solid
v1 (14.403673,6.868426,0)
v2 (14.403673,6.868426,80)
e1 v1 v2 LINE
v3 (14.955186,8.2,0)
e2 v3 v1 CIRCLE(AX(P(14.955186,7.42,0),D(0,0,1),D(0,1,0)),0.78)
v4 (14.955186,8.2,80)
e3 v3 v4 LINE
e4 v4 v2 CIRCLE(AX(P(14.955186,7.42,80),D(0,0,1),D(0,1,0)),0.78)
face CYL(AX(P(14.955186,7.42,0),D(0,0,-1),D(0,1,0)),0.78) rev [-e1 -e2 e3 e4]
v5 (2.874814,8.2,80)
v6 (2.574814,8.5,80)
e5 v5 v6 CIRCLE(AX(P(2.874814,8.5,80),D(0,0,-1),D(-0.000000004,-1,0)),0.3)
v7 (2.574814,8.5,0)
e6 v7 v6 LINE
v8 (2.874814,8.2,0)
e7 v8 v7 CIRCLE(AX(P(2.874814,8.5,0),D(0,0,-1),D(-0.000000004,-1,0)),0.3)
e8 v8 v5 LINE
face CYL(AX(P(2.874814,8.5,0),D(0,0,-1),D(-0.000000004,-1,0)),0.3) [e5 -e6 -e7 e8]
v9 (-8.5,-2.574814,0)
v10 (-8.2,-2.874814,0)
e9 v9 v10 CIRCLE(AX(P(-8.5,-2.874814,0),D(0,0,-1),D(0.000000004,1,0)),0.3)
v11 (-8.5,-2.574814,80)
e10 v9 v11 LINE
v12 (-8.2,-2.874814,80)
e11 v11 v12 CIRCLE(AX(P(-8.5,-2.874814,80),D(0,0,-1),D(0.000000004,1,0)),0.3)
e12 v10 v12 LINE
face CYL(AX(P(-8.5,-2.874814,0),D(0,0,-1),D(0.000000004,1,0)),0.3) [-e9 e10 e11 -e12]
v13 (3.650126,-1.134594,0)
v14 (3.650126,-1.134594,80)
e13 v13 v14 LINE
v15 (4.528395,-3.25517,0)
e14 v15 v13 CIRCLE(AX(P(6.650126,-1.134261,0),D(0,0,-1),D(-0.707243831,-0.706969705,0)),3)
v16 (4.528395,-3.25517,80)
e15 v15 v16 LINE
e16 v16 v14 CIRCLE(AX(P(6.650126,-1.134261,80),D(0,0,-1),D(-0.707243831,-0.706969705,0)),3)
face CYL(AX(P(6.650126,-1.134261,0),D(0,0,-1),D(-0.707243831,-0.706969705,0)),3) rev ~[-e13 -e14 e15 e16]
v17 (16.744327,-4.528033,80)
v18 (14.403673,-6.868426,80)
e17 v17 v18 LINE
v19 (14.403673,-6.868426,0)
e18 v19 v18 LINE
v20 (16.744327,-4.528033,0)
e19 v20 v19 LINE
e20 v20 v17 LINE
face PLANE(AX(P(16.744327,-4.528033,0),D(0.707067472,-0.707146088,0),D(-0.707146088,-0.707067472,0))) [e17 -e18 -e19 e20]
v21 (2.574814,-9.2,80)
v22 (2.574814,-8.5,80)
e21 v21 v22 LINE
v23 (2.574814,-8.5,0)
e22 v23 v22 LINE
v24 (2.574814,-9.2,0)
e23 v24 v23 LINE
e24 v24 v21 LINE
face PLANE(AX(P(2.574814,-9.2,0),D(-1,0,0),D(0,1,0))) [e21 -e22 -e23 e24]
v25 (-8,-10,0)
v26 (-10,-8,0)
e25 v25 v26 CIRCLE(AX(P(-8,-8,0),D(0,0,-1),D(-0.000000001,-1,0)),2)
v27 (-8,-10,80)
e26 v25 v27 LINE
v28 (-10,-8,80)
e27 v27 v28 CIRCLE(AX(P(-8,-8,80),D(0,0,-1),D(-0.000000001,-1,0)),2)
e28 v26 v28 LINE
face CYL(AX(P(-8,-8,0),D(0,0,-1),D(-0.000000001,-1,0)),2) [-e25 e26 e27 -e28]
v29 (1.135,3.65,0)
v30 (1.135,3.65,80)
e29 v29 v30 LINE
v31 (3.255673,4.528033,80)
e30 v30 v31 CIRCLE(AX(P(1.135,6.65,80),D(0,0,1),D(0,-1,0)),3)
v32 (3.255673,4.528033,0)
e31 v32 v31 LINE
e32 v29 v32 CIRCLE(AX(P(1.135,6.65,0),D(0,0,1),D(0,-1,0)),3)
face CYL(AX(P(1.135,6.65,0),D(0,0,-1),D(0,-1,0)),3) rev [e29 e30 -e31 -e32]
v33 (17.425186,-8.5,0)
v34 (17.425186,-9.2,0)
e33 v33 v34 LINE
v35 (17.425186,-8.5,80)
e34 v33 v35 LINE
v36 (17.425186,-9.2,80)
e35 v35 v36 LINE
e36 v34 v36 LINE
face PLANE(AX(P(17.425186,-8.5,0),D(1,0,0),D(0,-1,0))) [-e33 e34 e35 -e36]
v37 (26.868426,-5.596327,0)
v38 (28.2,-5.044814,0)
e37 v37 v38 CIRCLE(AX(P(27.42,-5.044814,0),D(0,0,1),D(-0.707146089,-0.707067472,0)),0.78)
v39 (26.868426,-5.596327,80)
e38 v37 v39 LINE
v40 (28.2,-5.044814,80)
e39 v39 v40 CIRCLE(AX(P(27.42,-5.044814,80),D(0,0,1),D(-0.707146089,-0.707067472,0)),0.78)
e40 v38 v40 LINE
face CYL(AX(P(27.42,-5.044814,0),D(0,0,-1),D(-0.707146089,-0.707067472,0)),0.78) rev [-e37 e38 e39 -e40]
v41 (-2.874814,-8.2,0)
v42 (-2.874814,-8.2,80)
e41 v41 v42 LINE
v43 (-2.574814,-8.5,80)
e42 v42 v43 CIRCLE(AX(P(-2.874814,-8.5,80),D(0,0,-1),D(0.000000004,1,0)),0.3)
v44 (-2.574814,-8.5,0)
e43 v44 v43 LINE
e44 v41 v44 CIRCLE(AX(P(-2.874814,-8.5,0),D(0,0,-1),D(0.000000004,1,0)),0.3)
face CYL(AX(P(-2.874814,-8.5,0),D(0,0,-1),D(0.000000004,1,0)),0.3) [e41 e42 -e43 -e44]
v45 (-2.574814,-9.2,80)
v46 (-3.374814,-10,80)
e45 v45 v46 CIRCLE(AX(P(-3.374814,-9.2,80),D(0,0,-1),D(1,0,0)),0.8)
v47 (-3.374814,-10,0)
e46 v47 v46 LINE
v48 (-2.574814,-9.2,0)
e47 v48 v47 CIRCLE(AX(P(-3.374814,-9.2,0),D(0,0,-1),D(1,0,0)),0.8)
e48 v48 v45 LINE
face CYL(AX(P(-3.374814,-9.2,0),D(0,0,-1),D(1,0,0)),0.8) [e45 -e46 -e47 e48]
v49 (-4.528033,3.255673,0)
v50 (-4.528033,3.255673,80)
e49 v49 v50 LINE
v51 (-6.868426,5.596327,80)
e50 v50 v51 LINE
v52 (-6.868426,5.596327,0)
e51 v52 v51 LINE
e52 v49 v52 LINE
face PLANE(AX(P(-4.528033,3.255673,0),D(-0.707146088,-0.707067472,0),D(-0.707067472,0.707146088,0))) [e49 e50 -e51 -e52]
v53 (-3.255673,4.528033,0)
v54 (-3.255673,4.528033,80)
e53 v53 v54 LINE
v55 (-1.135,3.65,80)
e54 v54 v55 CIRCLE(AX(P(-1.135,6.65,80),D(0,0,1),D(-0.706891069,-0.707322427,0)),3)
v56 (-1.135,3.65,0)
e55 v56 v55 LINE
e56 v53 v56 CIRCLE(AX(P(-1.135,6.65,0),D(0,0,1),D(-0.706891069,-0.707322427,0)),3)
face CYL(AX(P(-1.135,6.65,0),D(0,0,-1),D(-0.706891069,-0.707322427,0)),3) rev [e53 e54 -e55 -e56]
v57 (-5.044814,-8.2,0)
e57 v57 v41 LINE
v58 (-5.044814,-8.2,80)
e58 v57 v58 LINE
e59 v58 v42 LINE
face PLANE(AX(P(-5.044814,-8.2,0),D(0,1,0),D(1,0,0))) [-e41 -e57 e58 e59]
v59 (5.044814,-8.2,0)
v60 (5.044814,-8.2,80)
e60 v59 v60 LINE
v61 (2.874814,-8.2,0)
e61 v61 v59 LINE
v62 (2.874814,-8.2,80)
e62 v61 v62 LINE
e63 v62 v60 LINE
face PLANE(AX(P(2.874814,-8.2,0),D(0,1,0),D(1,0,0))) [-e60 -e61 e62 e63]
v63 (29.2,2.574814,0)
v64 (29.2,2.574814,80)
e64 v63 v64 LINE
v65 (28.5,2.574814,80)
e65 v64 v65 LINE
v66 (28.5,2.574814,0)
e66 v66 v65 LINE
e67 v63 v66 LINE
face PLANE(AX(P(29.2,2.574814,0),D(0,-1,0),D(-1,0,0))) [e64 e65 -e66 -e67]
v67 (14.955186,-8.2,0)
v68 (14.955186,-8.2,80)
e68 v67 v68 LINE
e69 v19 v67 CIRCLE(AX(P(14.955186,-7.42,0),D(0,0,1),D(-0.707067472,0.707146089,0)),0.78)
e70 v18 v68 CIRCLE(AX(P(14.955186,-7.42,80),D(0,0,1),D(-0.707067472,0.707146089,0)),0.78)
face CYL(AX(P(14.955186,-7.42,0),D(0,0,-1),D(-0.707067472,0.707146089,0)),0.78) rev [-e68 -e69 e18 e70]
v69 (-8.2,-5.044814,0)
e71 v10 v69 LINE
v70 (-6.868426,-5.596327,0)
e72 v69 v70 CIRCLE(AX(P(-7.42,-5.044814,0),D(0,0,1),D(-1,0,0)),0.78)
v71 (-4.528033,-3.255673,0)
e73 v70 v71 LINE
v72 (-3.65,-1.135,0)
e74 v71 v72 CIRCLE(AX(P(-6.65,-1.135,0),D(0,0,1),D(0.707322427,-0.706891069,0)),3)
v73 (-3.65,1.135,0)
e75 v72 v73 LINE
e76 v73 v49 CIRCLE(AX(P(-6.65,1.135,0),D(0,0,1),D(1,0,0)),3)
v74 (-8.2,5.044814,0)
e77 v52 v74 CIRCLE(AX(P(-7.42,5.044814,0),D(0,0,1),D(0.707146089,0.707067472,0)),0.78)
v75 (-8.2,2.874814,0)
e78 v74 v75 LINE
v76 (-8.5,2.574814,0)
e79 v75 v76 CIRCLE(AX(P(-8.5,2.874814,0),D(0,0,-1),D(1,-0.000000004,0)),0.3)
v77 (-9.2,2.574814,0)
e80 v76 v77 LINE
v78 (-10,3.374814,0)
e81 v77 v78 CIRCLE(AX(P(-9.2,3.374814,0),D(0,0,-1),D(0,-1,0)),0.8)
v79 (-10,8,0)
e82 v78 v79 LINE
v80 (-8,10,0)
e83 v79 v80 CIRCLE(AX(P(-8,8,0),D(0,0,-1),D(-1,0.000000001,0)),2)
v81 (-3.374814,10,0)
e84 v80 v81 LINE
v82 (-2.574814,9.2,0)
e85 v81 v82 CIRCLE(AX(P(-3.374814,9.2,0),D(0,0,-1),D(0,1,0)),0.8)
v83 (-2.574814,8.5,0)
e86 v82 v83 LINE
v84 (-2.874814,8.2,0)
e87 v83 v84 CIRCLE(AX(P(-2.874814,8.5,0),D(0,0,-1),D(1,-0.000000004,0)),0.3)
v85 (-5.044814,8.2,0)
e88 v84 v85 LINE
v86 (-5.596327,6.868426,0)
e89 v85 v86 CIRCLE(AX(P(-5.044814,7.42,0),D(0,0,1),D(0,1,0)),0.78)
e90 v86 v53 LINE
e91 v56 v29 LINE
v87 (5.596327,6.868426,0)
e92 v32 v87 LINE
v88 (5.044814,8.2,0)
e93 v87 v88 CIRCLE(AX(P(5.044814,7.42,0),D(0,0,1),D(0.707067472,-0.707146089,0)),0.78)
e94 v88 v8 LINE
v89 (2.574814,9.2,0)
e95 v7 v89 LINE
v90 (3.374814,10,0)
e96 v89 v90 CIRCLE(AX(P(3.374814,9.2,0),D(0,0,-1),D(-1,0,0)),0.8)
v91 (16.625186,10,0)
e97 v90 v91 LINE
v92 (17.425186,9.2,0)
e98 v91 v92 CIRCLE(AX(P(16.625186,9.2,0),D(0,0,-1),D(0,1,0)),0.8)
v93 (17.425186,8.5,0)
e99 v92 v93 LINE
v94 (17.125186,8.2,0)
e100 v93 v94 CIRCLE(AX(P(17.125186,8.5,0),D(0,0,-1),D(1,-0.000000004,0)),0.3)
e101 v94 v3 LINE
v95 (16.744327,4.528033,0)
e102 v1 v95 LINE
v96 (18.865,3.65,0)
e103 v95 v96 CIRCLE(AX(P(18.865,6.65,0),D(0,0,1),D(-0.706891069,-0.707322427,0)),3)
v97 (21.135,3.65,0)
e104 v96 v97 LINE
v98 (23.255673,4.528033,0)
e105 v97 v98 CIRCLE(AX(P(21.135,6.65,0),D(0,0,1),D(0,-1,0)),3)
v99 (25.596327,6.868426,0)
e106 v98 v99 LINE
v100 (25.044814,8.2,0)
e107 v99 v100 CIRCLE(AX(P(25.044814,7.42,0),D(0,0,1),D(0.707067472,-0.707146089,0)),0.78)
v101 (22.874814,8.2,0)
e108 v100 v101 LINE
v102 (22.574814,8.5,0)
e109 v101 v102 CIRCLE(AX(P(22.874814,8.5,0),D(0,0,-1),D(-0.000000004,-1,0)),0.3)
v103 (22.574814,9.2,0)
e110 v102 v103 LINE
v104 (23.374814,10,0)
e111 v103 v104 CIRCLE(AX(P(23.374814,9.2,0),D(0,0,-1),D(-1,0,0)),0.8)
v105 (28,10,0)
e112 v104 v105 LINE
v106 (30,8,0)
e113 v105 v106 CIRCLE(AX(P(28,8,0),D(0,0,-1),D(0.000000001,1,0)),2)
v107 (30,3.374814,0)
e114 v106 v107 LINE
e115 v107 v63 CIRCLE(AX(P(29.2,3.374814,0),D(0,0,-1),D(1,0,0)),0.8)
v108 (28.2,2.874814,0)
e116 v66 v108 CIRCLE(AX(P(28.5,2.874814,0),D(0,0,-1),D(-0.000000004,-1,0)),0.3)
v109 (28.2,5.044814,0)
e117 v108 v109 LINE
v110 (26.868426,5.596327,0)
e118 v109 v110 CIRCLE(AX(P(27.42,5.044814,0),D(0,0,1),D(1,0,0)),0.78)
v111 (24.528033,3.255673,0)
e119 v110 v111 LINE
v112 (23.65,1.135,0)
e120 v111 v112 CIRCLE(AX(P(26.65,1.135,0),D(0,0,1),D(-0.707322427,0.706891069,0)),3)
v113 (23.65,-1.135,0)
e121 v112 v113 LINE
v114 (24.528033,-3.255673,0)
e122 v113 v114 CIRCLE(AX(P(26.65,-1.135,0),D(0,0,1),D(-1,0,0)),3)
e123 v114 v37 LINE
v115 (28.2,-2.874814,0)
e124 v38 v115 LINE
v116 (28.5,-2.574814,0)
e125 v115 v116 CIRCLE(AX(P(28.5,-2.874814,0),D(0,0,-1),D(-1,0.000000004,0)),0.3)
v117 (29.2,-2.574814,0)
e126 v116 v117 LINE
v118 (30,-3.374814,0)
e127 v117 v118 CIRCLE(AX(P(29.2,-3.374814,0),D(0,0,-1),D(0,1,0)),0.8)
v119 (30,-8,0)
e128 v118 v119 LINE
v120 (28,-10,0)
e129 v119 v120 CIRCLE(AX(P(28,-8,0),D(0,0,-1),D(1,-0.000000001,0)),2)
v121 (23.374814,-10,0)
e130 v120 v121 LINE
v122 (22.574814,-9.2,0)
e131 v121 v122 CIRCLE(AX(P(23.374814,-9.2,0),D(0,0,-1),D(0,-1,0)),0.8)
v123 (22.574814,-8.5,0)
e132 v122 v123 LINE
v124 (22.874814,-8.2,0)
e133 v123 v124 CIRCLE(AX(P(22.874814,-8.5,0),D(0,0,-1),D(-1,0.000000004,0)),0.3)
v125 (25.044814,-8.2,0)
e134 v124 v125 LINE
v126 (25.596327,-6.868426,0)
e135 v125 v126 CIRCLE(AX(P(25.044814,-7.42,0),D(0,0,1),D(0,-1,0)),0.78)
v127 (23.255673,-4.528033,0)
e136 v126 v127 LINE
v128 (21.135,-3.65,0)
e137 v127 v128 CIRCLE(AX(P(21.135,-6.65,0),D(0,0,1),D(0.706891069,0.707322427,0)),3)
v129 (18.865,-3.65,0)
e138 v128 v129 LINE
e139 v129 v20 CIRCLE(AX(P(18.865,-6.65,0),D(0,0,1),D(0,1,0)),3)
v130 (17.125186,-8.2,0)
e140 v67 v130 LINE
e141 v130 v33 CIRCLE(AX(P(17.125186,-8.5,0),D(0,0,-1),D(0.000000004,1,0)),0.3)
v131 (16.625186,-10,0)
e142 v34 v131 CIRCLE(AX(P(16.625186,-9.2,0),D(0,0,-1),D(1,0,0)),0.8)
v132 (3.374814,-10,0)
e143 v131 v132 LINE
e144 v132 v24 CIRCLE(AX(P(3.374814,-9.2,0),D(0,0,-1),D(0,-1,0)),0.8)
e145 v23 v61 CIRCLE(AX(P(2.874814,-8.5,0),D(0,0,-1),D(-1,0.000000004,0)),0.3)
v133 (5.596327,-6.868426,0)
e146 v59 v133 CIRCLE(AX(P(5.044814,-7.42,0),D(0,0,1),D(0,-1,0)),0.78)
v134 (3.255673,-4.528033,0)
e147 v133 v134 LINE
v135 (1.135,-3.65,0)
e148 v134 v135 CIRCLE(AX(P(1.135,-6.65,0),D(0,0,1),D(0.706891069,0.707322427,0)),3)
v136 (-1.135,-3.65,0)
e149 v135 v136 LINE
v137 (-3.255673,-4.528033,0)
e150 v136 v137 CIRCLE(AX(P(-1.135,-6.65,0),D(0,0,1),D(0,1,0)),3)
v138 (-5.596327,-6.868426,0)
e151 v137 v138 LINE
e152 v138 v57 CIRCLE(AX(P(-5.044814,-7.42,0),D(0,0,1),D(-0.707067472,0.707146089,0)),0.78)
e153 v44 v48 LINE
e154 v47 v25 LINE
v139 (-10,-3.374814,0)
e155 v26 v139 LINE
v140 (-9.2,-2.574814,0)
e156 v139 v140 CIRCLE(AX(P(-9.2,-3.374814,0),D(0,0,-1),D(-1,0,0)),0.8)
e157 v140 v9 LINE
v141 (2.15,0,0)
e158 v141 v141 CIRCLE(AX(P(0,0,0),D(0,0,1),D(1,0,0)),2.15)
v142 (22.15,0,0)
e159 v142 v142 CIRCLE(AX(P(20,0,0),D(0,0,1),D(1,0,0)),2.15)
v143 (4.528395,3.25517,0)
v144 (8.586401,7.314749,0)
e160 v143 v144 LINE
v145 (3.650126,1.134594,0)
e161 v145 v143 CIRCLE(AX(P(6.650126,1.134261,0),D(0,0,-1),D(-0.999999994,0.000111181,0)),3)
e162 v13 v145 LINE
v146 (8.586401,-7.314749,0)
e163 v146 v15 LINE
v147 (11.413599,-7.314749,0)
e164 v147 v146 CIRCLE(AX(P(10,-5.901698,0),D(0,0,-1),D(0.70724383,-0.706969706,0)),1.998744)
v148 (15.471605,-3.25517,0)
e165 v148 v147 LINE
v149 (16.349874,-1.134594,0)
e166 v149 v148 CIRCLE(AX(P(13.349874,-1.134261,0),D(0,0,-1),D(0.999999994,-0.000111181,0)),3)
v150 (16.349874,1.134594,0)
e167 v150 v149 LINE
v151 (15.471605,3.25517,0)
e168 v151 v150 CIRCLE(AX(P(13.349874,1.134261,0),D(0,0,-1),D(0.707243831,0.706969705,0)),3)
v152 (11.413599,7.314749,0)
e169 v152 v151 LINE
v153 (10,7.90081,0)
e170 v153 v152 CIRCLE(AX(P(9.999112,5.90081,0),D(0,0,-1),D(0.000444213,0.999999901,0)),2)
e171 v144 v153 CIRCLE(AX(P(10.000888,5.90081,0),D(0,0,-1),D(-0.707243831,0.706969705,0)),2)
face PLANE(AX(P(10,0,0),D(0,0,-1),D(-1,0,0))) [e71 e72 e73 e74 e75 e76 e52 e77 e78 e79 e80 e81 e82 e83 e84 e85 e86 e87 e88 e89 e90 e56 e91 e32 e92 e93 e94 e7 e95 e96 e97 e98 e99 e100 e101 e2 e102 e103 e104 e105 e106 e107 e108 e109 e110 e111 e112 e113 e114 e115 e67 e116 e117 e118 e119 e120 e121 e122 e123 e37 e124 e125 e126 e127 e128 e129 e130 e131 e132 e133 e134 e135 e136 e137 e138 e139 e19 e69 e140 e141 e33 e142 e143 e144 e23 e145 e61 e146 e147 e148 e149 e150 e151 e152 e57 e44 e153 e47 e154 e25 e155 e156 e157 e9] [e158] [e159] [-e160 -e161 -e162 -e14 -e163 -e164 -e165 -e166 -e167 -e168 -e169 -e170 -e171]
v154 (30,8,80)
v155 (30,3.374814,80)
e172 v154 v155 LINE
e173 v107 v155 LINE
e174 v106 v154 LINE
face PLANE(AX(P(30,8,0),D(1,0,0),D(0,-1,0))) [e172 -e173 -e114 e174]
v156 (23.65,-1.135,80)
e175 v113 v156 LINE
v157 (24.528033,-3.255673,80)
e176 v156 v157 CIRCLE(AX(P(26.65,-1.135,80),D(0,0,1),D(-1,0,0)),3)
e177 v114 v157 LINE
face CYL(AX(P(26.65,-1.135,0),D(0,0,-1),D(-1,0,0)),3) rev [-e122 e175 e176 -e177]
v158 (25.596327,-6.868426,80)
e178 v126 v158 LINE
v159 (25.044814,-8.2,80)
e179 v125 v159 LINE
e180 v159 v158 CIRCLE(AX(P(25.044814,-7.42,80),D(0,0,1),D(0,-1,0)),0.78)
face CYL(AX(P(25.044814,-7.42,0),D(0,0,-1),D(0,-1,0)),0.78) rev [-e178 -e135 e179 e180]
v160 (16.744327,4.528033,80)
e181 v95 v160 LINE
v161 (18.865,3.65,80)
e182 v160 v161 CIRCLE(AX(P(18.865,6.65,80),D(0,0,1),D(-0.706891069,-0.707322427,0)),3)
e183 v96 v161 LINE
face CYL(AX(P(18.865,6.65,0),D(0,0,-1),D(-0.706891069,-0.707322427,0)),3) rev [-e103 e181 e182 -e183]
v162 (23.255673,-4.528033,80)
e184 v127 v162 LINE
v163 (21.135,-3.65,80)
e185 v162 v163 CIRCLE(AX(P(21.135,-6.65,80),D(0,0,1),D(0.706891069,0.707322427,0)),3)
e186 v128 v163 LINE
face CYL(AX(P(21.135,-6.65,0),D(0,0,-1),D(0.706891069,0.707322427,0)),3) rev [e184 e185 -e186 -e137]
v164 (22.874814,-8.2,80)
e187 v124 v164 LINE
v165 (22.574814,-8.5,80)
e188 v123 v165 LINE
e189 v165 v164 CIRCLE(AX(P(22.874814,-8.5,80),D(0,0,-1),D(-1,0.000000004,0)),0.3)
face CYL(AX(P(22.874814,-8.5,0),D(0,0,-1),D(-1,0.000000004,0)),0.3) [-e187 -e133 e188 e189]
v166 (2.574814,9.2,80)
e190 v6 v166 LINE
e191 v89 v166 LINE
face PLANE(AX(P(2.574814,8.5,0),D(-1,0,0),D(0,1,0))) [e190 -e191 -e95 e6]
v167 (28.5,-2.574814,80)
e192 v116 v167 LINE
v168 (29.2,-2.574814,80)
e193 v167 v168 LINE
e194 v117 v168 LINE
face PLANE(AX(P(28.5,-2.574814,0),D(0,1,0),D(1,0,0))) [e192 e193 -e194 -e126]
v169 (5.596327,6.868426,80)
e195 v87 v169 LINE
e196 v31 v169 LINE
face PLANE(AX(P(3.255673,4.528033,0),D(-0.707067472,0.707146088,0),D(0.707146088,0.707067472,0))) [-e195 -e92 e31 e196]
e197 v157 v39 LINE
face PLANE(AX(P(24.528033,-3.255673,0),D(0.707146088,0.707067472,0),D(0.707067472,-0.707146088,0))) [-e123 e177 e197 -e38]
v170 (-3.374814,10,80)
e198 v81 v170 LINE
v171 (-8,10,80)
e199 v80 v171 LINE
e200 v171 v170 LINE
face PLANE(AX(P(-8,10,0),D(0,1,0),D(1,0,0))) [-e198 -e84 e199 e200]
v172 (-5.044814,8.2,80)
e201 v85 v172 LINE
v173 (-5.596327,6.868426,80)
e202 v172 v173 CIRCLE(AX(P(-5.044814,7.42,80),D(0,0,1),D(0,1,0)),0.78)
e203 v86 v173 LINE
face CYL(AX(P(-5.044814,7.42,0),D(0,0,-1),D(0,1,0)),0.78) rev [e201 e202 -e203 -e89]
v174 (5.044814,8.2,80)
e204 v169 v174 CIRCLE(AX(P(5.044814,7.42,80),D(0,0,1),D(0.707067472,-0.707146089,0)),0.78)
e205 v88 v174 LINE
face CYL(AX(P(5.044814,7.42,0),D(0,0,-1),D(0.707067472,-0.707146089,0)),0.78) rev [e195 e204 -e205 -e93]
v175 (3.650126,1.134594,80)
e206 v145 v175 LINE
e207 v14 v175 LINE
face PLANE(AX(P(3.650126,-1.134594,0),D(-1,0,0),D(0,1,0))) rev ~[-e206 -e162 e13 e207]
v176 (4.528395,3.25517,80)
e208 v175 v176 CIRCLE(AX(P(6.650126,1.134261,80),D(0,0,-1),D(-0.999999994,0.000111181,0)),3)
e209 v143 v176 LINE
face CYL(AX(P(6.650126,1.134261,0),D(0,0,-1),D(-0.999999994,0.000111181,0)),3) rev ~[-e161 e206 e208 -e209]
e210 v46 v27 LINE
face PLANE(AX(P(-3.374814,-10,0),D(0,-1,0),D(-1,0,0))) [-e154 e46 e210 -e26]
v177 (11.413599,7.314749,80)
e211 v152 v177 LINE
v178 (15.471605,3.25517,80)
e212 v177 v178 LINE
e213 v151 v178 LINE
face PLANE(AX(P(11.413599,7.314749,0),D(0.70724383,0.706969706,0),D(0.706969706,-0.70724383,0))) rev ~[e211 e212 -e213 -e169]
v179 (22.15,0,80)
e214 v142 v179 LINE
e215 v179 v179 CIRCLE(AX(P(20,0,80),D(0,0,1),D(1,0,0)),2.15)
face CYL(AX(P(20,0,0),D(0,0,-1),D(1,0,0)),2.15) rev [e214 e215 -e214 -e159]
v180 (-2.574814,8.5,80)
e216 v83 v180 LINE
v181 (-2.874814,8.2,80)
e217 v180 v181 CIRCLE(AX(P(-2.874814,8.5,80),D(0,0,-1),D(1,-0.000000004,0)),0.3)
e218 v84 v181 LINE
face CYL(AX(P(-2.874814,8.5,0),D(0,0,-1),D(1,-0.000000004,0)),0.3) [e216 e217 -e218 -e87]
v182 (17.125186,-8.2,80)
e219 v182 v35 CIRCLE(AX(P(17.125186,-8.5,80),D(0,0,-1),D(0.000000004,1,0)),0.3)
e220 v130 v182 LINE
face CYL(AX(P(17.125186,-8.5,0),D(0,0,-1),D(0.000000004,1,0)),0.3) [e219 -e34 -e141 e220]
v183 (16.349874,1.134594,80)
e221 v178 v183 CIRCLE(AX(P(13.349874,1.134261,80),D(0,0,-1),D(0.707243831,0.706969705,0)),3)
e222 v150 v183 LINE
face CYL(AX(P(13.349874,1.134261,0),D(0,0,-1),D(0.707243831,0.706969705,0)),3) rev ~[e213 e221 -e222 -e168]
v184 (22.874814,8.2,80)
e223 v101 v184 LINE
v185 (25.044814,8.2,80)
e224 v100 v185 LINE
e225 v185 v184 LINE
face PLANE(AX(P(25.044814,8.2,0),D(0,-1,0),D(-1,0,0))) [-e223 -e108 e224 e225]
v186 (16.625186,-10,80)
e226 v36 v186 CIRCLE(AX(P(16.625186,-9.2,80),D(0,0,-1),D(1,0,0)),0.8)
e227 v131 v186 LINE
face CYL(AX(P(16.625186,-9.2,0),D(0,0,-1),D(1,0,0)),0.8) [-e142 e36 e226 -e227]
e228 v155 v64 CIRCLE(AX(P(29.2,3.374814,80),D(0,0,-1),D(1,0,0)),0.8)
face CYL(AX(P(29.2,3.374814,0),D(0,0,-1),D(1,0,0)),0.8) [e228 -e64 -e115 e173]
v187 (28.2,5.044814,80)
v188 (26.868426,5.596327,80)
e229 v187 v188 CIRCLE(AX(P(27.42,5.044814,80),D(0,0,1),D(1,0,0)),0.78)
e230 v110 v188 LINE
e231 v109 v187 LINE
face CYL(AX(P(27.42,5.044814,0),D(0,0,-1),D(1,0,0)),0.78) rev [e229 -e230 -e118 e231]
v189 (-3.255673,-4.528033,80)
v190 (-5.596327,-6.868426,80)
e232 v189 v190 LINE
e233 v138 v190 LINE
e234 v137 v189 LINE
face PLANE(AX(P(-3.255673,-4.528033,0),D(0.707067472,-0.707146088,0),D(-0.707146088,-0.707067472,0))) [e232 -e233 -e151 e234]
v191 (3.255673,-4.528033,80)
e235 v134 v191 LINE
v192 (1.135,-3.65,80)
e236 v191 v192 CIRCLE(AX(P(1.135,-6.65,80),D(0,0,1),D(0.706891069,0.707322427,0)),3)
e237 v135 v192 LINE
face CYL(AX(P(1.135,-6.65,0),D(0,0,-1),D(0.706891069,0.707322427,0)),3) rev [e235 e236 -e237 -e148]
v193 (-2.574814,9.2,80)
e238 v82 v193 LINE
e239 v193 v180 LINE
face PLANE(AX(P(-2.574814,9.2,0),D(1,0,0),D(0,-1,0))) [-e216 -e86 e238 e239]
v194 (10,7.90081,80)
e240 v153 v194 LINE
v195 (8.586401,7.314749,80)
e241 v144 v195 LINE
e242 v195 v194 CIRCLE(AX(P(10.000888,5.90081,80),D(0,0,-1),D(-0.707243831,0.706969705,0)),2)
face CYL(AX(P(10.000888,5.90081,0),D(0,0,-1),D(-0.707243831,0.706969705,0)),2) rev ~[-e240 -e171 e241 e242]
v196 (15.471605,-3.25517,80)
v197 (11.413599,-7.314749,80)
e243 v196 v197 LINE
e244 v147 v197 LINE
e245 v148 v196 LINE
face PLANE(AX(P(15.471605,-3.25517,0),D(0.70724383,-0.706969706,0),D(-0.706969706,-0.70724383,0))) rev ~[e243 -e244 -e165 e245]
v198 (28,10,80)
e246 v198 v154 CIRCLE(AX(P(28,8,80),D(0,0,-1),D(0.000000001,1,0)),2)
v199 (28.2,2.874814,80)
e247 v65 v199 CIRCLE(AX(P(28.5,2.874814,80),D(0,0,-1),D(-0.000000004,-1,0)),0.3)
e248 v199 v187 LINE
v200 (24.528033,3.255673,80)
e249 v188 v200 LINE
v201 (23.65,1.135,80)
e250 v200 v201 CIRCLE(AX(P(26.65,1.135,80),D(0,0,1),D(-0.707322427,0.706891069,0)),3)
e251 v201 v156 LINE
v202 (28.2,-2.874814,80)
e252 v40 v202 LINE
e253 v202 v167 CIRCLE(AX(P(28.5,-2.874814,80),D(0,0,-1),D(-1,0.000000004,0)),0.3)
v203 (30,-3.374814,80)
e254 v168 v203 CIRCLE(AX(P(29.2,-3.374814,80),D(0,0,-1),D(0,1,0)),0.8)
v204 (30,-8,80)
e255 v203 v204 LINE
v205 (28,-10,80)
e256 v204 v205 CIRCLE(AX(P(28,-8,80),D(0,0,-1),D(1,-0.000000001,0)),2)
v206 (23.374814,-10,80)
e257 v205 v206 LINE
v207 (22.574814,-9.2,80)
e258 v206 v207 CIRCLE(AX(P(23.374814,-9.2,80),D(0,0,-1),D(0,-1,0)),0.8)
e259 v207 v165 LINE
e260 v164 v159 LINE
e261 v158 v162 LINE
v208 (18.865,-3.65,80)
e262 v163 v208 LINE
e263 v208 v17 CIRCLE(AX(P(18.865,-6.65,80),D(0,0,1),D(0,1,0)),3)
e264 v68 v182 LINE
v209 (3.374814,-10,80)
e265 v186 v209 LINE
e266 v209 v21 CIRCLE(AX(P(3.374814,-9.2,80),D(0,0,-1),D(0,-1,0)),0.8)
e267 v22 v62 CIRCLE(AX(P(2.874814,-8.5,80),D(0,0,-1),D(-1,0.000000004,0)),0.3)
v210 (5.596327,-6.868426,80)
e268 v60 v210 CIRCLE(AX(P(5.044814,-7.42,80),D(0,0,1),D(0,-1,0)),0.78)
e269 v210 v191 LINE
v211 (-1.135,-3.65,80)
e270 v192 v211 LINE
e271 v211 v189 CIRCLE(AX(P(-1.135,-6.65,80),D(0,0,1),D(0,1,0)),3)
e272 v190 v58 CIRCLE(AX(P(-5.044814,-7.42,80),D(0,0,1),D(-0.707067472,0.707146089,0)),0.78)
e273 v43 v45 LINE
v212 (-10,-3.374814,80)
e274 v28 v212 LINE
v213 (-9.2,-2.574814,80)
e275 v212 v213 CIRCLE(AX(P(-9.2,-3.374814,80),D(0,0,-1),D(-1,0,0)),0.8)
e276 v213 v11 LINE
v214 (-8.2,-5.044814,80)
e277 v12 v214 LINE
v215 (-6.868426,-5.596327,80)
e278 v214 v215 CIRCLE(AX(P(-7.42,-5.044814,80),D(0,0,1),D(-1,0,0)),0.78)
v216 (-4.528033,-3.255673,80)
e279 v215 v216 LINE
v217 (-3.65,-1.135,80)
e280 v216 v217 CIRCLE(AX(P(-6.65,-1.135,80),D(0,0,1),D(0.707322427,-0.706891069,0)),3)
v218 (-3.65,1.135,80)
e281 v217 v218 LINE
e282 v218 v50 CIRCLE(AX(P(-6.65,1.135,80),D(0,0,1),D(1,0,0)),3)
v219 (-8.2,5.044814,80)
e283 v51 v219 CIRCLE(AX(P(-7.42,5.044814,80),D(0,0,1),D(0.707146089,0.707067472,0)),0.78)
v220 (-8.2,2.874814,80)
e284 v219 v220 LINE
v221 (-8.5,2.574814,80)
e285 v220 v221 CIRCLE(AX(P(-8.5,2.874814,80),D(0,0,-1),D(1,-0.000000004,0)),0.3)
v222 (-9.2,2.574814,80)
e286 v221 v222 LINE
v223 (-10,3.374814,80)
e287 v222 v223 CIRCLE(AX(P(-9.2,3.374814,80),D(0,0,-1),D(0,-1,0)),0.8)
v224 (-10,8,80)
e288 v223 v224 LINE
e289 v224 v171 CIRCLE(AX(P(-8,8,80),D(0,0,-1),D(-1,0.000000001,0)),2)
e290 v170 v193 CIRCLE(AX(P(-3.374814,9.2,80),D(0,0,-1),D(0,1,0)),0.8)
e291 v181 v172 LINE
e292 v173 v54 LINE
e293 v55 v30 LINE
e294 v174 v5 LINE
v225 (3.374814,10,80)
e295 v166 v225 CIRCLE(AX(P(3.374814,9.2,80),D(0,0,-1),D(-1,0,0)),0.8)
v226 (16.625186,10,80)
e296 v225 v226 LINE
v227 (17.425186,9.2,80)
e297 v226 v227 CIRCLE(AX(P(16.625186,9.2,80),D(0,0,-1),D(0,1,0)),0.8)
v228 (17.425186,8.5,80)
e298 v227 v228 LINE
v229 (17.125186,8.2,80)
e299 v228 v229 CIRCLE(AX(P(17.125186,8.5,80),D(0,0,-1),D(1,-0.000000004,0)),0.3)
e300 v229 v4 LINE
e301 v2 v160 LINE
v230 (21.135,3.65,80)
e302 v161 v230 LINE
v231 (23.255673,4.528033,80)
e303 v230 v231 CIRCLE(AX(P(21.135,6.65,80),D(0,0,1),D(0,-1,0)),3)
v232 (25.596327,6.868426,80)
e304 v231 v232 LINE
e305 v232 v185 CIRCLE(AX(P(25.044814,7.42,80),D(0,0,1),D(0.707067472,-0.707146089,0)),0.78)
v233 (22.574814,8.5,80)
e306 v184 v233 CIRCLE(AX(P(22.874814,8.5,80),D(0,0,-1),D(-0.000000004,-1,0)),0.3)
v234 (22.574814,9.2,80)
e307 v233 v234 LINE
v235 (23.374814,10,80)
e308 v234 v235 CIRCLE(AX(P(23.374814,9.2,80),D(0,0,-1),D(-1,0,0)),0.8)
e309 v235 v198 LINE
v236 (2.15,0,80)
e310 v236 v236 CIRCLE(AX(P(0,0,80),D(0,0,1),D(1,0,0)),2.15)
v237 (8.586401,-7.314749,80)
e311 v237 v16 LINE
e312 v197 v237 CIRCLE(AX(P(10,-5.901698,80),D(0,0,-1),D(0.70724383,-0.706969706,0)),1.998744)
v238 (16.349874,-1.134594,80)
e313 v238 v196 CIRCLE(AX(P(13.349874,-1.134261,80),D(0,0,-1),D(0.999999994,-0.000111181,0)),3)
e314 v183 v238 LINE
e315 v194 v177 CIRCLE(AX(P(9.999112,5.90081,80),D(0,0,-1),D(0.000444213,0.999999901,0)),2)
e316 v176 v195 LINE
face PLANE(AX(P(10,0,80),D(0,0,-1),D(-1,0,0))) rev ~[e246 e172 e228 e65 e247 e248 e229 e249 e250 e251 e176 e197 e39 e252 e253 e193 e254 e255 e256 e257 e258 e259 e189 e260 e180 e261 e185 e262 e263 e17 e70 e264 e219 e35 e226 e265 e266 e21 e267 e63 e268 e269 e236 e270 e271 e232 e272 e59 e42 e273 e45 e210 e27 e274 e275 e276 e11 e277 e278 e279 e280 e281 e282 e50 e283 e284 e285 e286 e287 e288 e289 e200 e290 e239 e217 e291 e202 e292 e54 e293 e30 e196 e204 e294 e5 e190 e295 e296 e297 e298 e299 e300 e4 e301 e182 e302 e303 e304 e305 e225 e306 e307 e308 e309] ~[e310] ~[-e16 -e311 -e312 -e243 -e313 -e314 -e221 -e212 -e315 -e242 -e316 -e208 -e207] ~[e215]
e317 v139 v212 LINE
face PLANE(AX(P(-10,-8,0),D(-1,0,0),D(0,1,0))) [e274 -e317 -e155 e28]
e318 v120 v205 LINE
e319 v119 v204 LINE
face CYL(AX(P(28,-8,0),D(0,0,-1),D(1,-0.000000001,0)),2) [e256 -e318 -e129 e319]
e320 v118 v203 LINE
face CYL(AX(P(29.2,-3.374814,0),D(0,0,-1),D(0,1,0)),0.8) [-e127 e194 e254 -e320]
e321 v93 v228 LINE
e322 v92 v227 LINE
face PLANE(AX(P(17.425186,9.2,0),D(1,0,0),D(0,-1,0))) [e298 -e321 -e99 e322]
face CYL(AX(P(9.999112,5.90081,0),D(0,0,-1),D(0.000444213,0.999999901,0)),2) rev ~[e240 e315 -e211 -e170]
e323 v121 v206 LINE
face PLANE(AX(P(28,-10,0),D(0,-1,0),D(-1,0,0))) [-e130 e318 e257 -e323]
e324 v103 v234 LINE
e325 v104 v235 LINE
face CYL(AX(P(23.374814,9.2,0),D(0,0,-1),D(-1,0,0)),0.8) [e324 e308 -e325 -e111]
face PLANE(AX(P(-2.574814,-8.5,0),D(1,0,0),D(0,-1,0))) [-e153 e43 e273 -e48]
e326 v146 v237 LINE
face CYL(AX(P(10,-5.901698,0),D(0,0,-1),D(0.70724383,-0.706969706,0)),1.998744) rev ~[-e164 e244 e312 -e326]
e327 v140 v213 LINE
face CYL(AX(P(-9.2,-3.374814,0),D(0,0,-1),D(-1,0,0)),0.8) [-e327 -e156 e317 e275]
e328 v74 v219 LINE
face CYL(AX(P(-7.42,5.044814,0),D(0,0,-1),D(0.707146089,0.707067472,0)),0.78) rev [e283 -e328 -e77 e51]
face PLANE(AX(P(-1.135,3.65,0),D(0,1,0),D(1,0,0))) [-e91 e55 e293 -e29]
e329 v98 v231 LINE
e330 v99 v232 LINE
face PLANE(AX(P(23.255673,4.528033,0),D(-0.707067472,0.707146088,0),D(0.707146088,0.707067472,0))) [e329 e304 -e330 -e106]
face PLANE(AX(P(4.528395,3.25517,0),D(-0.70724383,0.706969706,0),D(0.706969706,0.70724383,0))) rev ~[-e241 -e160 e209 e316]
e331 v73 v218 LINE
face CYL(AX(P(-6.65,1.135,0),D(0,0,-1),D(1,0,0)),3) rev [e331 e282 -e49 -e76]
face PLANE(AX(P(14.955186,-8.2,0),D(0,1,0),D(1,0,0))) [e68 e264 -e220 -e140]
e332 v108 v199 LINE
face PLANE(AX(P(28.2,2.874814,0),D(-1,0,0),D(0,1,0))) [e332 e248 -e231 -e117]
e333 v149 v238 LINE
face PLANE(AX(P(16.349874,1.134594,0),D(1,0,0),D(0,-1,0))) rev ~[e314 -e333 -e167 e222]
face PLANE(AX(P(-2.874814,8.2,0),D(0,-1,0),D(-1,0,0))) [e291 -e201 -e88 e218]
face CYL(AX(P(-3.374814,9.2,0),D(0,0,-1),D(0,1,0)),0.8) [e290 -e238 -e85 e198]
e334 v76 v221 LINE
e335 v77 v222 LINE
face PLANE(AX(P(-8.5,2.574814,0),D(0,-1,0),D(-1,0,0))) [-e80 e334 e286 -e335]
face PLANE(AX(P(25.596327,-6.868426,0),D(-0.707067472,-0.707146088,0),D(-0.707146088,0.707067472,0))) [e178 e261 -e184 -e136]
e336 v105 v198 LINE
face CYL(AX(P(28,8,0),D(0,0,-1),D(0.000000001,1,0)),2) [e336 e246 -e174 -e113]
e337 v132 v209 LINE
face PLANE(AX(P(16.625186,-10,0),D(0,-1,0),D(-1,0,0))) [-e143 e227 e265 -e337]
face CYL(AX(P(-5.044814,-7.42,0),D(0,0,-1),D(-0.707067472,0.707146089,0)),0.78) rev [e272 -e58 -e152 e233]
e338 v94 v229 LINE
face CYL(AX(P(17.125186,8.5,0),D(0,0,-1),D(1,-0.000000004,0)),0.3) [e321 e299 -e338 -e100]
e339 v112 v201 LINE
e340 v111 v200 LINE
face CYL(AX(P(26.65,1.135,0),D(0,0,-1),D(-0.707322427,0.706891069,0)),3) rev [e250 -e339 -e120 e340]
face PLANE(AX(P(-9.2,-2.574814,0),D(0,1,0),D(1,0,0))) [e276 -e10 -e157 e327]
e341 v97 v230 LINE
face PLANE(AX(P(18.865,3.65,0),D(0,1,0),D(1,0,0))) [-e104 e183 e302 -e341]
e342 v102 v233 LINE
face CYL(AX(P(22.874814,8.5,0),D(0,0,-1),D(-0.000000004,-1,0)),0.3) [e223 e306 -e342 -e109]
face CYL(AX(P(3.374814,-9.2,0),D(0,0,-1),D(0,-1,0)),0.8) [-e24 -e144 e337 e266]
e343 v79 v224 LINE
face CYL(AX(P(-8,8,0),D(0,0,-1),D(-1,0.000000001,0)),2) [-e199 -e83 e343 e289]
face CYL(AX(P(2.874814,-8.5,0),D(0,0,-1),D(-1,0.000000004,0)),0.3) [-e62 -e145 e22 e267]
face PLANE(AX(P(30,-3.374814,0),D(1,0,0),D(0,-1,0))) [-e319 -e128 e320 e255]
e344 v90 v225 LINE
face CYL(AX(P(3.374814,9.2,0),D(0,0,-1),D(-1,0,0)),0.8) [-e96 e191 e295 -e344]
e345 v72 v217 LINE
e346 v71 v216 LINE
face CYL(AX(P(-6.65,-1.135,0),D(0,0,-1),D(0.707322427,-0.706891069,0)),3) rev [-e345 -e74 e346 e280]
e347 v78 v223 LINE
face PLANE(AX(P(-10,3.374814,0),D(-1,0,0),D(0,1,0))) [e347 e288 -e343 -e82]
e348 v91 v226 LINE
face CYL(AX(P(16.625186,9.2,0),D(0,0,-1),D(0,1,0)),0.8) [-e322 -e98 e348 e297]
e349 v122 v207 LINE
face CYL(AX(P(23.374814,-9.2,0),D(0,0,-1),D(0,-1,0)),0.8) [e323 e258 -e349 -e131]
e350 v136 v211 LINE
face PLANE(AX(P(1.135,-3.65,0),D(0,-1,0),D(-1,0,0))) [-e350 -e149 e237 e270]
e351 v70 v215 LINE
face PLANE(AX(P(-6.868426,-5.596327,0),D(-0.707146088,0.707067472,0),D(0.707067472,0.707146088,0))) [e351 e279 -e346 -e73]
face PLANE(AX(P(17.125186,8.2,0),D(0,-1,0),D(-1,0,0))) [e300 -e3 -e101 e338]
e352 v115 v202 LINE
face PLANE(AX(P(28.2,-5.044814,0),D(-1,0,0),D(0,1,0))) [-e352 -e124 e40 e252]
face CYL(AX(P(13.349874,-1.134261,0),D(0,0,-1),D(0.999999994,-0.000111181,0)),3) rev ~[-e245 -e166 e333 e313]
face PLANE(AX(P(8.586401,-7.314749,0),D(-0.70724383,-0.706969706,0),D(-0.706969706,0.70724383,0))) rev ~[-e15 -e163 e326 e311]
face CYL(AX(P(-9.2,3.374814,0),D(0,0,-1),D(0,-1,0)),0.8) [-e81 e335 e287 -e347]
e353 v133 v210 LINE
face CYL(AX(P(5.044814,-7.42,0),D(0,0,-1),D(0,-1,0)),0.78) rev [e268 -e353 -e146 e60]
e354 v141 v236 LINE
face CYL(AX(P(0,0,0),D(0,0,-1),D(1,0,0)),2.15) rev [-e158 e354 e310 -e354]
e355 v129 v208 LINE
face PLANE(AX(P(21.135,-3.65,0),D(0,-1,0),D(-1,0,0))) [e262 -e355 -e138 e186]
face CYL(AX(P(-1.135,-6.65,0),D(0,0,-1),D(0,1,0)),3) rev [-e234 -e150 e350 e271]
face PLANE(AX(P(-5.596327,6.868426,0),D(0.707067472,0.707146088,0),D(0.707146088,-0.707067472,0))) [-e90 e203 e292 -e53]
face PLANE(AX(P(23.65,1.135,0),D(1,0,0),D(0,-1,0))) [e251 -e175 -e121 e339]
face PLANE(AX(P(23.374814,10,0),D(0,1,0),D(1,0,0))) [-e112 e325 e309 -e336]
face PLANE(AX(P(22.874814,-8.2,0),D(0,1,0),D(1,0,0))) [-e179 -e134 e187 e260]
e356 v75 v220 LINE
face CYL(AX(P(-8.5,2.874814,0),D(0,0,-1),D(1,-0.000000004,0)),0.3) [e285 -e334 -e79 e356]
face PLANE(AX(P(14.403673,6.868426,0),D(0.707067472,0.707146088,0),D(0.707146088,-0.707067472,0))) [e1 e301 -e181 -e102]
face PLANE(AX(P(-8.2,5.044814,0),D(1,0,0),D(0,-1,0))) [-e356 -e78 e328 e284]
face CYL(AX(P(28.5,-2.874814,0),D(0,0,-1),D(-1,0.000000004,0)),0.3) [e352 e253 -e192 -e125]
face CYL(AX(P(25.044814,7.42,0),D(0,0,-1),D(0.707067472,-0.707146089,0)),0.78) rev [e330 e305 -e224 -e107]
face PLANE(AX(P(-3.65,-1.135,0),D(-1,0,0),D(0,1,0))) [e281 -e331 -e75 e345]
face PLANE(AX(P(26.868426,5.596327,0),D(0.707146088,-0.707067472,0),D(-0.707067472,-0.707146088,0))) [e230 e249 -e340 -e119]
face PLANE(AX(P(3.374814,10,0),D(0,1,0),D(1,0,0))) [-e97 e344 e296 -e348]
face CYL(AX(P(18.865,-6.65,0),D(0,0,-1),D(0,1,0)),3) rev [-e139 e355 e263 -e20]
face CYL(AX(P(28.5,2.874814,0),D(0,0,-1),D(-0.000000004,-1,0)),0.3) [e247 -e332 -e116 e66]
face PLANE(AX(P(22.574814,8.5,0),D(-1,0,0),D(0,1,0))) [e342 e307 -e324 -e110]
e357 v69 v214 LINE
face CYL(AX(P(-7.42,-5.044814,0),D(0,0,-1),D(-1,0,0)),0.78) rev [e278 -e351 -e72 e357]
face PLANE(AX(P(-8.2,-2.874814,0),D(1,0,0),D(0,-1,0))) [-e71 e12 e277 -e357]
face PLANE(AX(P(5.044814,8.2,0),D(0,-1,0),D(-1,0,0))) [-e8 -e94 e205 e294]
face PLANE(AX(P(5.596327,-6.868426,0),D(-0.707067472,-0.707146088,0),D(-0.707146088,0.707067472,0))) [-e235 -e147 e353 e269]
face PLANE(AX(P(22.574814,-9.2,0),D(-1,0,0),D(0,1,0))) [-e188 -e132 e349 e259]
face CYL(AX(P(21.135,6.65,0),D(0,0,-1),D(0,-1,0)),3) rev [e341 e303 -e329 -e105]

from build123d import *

# Parameters (mm, degrees)
CROQUIS3_R              = 2.15
SALIENTE_EXTRUIR1_DEPTH = 80


with BuildPart() as part:
    # Croquis3 → Saliente-Extruir1 (new body)
    with BuildSketch(Plane.XY):
        with BuildLine():
            Line((-2.574814133, 9.2), (-2.574814133, 8.5))
            ThreePointArc((-2.574814133, 8.5), (-2.662682099, 8.287867966), (-2.874814133, 8.2))
            Line((-2.874814133, 8.2), (-5.044814133, 8.2))
            ThreePointArc((-5.044814133, 8.2), (-5.765448465, 7.718473047), (-5.596326761, 6.868426051))
            Line((-5.596326761, 6.868426051), (-3.255673209, 4.528032719))
            ThreePointArc((-3.255673209, 4.528032719), (-2.282627587, 3.878186348), (-1.135, 3.65))
            Line((-1.135, 3.65), (1.135, 3.65))
            ThreePointArc((1.135, 3.65), (2.282627587, 3.878186348), (3.255673209, 4.528032719))
            Line((3.255673209, 4.528032719), (5.596326761, 6.868426051))
            ThreePointArc((5.596326761, 6.868426051), (5.765448465, 7.718473047), (5.044814133, 8.2))
            Line((5.044814133, 8.2), (2.874814133, 8.2))
            ThreePointArc((2.874814133, 8.2), (2.662682099, 8.287867966), (2.574814133, 8.5))
            Line((2.574814133, 8.5), (2.574814133, 9.2))
            ThreePointArc((2.574814133, 9.2), (2.809128708, 9.765685425), (3.374814133, 10))
            Line((3.374814133, 10), (16.625185867, 10))
            ThreePointArc((16.625185867, 10), (17.190871292, 9.765685425), (17.425185867, 9.2))
            Line((17.425185867, 9.2), (17.425185867, 8.5))
            ThreePointArc((17.425185867, 8.5), (17.337317901, 8.287867966), (17.125185867, 8.2))
            Line((17.125185867, 8.2), (14.955185867, 8.2))
            ThreePointArc((14.955185867, 8.2), (14.234551535, 7.718473047), (14.403673239, 6.868426051))
            Line((14.403673239, 6.868426051), (16.744326791, 4.528032719))
            ThreePointArc((16.744326791, 4.528032719), (17.717372413, 3.878186348), (18.865, 3.65))
            Line((18.865, 3.65), (21.135, 3.65))
            ThreePointArc((21.135, 3.65), (22.282627587, 3.878186348), (23.255673209, 4.528032719))
            Line((23.255673209, 4.528032719), (25.596326761, 6.868426051))
            ThreePointArc((25.596326761, 6.868426051), (25.765448465, 7.718473047), (25.044814133, 8.2))
            Line((25.044814133, 8.2), (22.874814133, 8.2))
            ThreePointArc((22.874814133, 8.2), (22.662682099, 8.287867966), (22.574814133, 8.5))
            Line((22.574814133, 8.5), (22.574814133, 9.2))
            ThreePointArc((22.574814133, 9.2), (22.809128708, 9.765685425), (23.374814133, 10))
            Line((23.374814133, 10), (28, 10))
            ThreePointArc((28, 10), (29.414213562, 9.414213562), (30, 8))
            Line((30, 8), (30, 3.374814133))
            ThreePointArc((30, 3.374814133), (29.765685425, 2.809128708), (29.2, 2.574814133))
            Line((29.2, 2.574814133), (28.5, 2.574814133))
            ThreePointArc((28.5, 2.574814133), (28.287867966, 2.662682099), (28.2, 2.874814133))
            Line((28.2, 2.874814133), (28.2, 5.044814133))
            ThreePointArc((28.2, 5.044814133), (27.718473047, 5.765448465), (26.868426051, 5.596326761))
            Line((26.868426051, 5.596326761), (24.528032719, 3.255673209))
            ThreePointArc((24.528032719, 3.255673209), (23.878186348, 2.282627587), (23.65, 1.135))
            Line((23.65, 1.135), (23.65, -1.135))
            ThreePointArc((23.65, -1.135), (23.878186348, -2.282627587), (24.528032719, -3.255673209))
            Line((24.528032719, -3.255673209), (26.868426051, -5.596326761))
            ThreePointArc((26.868426051, -5.596326761), (27.718473047, -5.765448465), (28.2, -5.044814133))
            Line((28.2, -5.044814133), (28.2, -2.874814133))
            ThreePointArc((28.2, -2.874814133), (28.287867966, -2.662682099), (28.5, -2.574814133))
            Line((28.5, -2.574814133), (29.2, -2.574814133))
            ThreePointArc((29.2, -2.574814133), (29.765685425, -2.809128708), (30, -3.374814133))
            Line((30, -3.374814133), (30, -8))
            ThreePointArc((30, -8), (29.414213562, -9.414213562), (28, -10))
            Line((28, -10), (23.374814133, -10))
            ThreePointArc((23.374814133, -10), (22.809128708, -9.765685425), (22.574814133, -9.2))
            Line((22.574814133, -9.2), (22.574814133, -8.5))
            ThreePointArc((22.574814133, -8.5), (22.662682099, -8.287867966), (22.874814133, -8.2))
            Line((22.874814133, -8.2), (25.044814133, -8.2))
            ThreePointArc((25.044814133, -8.2), (25.765448465, -7.718473047), (25.596326761, -6.868426051))
            Line((25.596326761, -6.868426051), (23.255673209, -4.528032719))
            ThreePointArc((23.255673209, -4.528032719), (22.282627587, -3.878186348), (21.135, -3.65))
            Line((21.135, -3.65), (18.865, -3.65))
            ThreePointArc((18.865, -3.65), (17.717372413, -3.878186348), (16.744326791, -4.528032719))
            Line((16.744326791, -4.528032719), (14.403673239, -6.868426051))
            ThreePointArc((14.403673239, -6.868426051), (14.234551535, -7.718473047), (14.955185867, -8.2))
            Line((14.955185867, -8.2), (17.125185867, -8.2))
            ThreePointArc((17.125185867, -8.2), (17.337317901, -8.287867966), (17.425185867, -8.5))
            Line((17.425185867, -8.5), (17.425185867, -9.2))
            ThreePointArc((17.425185867, -9.2), (17.190871292, -9.765685425), (16.625185867, -10))
            Line((16.625185867, -10), (3.374814133, -10))
            ThreePointArc((3.374814133, -10), (2.809128708, -9.765685425), (2.574814133, -9.2))
            Line((2.574814133, -9.2), (2.574814133, -8.5))
            ThreePointArc((2.574814133, -8.5), (2.662682099, -8.287867966), (2.874814133, -8.2))
            Line((2.874814133, -8.2), (5.044814133, -8.2))
            ThreePointArc((5.044814133, -8.2), (5.765448465, -7.718473047), (5.596326761, -6.868426051))
            Line((5.596326761, -6.868426051), (3.255673209, -4.528032719))
            ThreePointArc((3.255673209, -4.528032719), (2.282627587, -3.878186348), (1.135, -3.65))
            Line((1.135, -3.65), (-1.135, -3.65))
            ThreePointArc((-1.135, -3.65), (-2.282627587, -3.878186348), (-3.255673209, -4.528032719))
            Line((-3.255673209, -4.528032719), (-5.596326761, -6.868426051))
            ThreePointArc((-5.596326761, -6.868426051), (-5.765448465, -7.718473047), (-5.044814133, -8.2))
            Line((-5.044814133, -8.2), (-2.874814133, -8.2))
            ThreePointArc((-2.874814133, -8.2), (-2.662682099, -8.287867966), (-2.574814133, -8.5))
            Line((-2.574814133, -8.5), (-2.574814133, -9.2))
            ThreePointArc((-2.574814133, -9.2), (-2.809128708, -9.765685425), (-3.374814133, -10))
            Line((-3.374814133, -10), (-8, -10))
            ThreePointArc((-8, -10), (-9.414213562, -9.414213562), (-10, -8))
            Line((-10, -8), (-10, -3.374814133))
            ThreePointArc((-10, -3.374814133), (-9.765685425, -2.809128708), (-9.2, -2.574814133))
            Line((-9.2, -2.574814133), (-8.5, -2.574814133))
            ThreePointArc((-8.5, -2.574814133), (-8.287867966, -2.662682099), (-8.2, -2.874814133))
            Line((-8.2, -2.874814133), (-8.2, -5.044814133))
            ThreePointArc((-8.2, -5.044814133), (-7.718473047, -5.765448465), (-6.868426051, -5.596326761))
            Line((-6.868426051, -5.596326761), (-4.528032719, -3.255673209))
            ThreePointArc((-4.528032719, -3.255673209), (-3.878186348, -2.282627587), (-3.65, -1.135))
            Line((-3.65, -1.135), (-3.65, 1.135))
            ThreePointArc((-3.65, 1.135), (-3.878186348, 2.282627587), (-4.528032719, 3.255673209))
            Line((-4.528032719, 3.255673209), (-6.868426051, 5.596326761))
            ThreePointArc((-6.868426051, 5.596326761), (-7.718473047, 5.765448465), (-8.2, 5.044814133))
            Line((-8.2, 5.044814133), (-8.2, 2.874814133))
            ThreePointArc((-8.2, 2.874814133), (-8.287867966, 2.662682099), (-8.5, 2.574814133))
            Line((-8.5, 2.574814133), (-9.2, 2.574814133))
            ThreePointArc((-9.2, 2.574814133), (-9.765685425, 2.809128708), (-10, 3.374814133))
            Line((-10, 3.374814133), (-10, 8))
            ThreePointArc((-10, 8), (-9.414213562, 9.414213562), (-8, 10))
            Line((-8, 10), (-3.374814133, 10))
            ThreePointArc((-3.374814133, 10), (-2.809128708, 9.765685425), (-2.574814133, 9.2))
        make_face()
        Circle(CROQUIS3_R, mode=Mode.SUBTRACT)
        with Locations((20, 0)):
            Circle(CROQUIS3_R, mode=Mode.SUBTRACT)
        with BuildLine():
            Line((4.528394658, 3.25516976), (8.586400769, 7.314749345))
            ThreePointArc((8.586400769, 7.314749345), (9.234932122, 7.748324734), (10, 7.900809736))
            ThreePointArc((10, 7.900809736), (10.765067878, 7.748324734), (11.413599231, 7.314749345))
            Line((11.413599231, 7.314749345), (15.471605342, 3.25516976))
            ThreePointArc((15.471605342, 3.25516976), (16.121559892, 2.282196395), (16.349873833, 1.134594184))
            Line((16.349873833, 1.134594184), (16.349873833, -1.134594184))
            ThreePointArc((16.349873833, -1.134594184), (16.121559892, -2.282196395), (15.471605342, -3.25516976))
            Line((15.471605342, -3.25516976), (11.413599231, -7.314749345))
            ThreePointArc((11.413599231, -7.314749345), (10, -7.900441833), (8.586400769, -7.314749345))
            Line((8.586400769, -7.314749345), (4.528394658, -3.25516976))
            ThreePointArc((4.528394658, -3.25516976), (3.878440108, -2.282196395), (3.650126167, -1.134594184))
            Line((3.650126167, -1.134594184), (3.650126167, 1.134594184))
            ThreePointArc((3.650126167, 1.134594184), (3.878440108, 2.282196395), (4.528394658, 3.25516976))
        make_face(mode=Mode.SUBTRACT)
    extrude(amount=SALIENTE_EXTRUIR1_DEPTH)


solid = part.part
